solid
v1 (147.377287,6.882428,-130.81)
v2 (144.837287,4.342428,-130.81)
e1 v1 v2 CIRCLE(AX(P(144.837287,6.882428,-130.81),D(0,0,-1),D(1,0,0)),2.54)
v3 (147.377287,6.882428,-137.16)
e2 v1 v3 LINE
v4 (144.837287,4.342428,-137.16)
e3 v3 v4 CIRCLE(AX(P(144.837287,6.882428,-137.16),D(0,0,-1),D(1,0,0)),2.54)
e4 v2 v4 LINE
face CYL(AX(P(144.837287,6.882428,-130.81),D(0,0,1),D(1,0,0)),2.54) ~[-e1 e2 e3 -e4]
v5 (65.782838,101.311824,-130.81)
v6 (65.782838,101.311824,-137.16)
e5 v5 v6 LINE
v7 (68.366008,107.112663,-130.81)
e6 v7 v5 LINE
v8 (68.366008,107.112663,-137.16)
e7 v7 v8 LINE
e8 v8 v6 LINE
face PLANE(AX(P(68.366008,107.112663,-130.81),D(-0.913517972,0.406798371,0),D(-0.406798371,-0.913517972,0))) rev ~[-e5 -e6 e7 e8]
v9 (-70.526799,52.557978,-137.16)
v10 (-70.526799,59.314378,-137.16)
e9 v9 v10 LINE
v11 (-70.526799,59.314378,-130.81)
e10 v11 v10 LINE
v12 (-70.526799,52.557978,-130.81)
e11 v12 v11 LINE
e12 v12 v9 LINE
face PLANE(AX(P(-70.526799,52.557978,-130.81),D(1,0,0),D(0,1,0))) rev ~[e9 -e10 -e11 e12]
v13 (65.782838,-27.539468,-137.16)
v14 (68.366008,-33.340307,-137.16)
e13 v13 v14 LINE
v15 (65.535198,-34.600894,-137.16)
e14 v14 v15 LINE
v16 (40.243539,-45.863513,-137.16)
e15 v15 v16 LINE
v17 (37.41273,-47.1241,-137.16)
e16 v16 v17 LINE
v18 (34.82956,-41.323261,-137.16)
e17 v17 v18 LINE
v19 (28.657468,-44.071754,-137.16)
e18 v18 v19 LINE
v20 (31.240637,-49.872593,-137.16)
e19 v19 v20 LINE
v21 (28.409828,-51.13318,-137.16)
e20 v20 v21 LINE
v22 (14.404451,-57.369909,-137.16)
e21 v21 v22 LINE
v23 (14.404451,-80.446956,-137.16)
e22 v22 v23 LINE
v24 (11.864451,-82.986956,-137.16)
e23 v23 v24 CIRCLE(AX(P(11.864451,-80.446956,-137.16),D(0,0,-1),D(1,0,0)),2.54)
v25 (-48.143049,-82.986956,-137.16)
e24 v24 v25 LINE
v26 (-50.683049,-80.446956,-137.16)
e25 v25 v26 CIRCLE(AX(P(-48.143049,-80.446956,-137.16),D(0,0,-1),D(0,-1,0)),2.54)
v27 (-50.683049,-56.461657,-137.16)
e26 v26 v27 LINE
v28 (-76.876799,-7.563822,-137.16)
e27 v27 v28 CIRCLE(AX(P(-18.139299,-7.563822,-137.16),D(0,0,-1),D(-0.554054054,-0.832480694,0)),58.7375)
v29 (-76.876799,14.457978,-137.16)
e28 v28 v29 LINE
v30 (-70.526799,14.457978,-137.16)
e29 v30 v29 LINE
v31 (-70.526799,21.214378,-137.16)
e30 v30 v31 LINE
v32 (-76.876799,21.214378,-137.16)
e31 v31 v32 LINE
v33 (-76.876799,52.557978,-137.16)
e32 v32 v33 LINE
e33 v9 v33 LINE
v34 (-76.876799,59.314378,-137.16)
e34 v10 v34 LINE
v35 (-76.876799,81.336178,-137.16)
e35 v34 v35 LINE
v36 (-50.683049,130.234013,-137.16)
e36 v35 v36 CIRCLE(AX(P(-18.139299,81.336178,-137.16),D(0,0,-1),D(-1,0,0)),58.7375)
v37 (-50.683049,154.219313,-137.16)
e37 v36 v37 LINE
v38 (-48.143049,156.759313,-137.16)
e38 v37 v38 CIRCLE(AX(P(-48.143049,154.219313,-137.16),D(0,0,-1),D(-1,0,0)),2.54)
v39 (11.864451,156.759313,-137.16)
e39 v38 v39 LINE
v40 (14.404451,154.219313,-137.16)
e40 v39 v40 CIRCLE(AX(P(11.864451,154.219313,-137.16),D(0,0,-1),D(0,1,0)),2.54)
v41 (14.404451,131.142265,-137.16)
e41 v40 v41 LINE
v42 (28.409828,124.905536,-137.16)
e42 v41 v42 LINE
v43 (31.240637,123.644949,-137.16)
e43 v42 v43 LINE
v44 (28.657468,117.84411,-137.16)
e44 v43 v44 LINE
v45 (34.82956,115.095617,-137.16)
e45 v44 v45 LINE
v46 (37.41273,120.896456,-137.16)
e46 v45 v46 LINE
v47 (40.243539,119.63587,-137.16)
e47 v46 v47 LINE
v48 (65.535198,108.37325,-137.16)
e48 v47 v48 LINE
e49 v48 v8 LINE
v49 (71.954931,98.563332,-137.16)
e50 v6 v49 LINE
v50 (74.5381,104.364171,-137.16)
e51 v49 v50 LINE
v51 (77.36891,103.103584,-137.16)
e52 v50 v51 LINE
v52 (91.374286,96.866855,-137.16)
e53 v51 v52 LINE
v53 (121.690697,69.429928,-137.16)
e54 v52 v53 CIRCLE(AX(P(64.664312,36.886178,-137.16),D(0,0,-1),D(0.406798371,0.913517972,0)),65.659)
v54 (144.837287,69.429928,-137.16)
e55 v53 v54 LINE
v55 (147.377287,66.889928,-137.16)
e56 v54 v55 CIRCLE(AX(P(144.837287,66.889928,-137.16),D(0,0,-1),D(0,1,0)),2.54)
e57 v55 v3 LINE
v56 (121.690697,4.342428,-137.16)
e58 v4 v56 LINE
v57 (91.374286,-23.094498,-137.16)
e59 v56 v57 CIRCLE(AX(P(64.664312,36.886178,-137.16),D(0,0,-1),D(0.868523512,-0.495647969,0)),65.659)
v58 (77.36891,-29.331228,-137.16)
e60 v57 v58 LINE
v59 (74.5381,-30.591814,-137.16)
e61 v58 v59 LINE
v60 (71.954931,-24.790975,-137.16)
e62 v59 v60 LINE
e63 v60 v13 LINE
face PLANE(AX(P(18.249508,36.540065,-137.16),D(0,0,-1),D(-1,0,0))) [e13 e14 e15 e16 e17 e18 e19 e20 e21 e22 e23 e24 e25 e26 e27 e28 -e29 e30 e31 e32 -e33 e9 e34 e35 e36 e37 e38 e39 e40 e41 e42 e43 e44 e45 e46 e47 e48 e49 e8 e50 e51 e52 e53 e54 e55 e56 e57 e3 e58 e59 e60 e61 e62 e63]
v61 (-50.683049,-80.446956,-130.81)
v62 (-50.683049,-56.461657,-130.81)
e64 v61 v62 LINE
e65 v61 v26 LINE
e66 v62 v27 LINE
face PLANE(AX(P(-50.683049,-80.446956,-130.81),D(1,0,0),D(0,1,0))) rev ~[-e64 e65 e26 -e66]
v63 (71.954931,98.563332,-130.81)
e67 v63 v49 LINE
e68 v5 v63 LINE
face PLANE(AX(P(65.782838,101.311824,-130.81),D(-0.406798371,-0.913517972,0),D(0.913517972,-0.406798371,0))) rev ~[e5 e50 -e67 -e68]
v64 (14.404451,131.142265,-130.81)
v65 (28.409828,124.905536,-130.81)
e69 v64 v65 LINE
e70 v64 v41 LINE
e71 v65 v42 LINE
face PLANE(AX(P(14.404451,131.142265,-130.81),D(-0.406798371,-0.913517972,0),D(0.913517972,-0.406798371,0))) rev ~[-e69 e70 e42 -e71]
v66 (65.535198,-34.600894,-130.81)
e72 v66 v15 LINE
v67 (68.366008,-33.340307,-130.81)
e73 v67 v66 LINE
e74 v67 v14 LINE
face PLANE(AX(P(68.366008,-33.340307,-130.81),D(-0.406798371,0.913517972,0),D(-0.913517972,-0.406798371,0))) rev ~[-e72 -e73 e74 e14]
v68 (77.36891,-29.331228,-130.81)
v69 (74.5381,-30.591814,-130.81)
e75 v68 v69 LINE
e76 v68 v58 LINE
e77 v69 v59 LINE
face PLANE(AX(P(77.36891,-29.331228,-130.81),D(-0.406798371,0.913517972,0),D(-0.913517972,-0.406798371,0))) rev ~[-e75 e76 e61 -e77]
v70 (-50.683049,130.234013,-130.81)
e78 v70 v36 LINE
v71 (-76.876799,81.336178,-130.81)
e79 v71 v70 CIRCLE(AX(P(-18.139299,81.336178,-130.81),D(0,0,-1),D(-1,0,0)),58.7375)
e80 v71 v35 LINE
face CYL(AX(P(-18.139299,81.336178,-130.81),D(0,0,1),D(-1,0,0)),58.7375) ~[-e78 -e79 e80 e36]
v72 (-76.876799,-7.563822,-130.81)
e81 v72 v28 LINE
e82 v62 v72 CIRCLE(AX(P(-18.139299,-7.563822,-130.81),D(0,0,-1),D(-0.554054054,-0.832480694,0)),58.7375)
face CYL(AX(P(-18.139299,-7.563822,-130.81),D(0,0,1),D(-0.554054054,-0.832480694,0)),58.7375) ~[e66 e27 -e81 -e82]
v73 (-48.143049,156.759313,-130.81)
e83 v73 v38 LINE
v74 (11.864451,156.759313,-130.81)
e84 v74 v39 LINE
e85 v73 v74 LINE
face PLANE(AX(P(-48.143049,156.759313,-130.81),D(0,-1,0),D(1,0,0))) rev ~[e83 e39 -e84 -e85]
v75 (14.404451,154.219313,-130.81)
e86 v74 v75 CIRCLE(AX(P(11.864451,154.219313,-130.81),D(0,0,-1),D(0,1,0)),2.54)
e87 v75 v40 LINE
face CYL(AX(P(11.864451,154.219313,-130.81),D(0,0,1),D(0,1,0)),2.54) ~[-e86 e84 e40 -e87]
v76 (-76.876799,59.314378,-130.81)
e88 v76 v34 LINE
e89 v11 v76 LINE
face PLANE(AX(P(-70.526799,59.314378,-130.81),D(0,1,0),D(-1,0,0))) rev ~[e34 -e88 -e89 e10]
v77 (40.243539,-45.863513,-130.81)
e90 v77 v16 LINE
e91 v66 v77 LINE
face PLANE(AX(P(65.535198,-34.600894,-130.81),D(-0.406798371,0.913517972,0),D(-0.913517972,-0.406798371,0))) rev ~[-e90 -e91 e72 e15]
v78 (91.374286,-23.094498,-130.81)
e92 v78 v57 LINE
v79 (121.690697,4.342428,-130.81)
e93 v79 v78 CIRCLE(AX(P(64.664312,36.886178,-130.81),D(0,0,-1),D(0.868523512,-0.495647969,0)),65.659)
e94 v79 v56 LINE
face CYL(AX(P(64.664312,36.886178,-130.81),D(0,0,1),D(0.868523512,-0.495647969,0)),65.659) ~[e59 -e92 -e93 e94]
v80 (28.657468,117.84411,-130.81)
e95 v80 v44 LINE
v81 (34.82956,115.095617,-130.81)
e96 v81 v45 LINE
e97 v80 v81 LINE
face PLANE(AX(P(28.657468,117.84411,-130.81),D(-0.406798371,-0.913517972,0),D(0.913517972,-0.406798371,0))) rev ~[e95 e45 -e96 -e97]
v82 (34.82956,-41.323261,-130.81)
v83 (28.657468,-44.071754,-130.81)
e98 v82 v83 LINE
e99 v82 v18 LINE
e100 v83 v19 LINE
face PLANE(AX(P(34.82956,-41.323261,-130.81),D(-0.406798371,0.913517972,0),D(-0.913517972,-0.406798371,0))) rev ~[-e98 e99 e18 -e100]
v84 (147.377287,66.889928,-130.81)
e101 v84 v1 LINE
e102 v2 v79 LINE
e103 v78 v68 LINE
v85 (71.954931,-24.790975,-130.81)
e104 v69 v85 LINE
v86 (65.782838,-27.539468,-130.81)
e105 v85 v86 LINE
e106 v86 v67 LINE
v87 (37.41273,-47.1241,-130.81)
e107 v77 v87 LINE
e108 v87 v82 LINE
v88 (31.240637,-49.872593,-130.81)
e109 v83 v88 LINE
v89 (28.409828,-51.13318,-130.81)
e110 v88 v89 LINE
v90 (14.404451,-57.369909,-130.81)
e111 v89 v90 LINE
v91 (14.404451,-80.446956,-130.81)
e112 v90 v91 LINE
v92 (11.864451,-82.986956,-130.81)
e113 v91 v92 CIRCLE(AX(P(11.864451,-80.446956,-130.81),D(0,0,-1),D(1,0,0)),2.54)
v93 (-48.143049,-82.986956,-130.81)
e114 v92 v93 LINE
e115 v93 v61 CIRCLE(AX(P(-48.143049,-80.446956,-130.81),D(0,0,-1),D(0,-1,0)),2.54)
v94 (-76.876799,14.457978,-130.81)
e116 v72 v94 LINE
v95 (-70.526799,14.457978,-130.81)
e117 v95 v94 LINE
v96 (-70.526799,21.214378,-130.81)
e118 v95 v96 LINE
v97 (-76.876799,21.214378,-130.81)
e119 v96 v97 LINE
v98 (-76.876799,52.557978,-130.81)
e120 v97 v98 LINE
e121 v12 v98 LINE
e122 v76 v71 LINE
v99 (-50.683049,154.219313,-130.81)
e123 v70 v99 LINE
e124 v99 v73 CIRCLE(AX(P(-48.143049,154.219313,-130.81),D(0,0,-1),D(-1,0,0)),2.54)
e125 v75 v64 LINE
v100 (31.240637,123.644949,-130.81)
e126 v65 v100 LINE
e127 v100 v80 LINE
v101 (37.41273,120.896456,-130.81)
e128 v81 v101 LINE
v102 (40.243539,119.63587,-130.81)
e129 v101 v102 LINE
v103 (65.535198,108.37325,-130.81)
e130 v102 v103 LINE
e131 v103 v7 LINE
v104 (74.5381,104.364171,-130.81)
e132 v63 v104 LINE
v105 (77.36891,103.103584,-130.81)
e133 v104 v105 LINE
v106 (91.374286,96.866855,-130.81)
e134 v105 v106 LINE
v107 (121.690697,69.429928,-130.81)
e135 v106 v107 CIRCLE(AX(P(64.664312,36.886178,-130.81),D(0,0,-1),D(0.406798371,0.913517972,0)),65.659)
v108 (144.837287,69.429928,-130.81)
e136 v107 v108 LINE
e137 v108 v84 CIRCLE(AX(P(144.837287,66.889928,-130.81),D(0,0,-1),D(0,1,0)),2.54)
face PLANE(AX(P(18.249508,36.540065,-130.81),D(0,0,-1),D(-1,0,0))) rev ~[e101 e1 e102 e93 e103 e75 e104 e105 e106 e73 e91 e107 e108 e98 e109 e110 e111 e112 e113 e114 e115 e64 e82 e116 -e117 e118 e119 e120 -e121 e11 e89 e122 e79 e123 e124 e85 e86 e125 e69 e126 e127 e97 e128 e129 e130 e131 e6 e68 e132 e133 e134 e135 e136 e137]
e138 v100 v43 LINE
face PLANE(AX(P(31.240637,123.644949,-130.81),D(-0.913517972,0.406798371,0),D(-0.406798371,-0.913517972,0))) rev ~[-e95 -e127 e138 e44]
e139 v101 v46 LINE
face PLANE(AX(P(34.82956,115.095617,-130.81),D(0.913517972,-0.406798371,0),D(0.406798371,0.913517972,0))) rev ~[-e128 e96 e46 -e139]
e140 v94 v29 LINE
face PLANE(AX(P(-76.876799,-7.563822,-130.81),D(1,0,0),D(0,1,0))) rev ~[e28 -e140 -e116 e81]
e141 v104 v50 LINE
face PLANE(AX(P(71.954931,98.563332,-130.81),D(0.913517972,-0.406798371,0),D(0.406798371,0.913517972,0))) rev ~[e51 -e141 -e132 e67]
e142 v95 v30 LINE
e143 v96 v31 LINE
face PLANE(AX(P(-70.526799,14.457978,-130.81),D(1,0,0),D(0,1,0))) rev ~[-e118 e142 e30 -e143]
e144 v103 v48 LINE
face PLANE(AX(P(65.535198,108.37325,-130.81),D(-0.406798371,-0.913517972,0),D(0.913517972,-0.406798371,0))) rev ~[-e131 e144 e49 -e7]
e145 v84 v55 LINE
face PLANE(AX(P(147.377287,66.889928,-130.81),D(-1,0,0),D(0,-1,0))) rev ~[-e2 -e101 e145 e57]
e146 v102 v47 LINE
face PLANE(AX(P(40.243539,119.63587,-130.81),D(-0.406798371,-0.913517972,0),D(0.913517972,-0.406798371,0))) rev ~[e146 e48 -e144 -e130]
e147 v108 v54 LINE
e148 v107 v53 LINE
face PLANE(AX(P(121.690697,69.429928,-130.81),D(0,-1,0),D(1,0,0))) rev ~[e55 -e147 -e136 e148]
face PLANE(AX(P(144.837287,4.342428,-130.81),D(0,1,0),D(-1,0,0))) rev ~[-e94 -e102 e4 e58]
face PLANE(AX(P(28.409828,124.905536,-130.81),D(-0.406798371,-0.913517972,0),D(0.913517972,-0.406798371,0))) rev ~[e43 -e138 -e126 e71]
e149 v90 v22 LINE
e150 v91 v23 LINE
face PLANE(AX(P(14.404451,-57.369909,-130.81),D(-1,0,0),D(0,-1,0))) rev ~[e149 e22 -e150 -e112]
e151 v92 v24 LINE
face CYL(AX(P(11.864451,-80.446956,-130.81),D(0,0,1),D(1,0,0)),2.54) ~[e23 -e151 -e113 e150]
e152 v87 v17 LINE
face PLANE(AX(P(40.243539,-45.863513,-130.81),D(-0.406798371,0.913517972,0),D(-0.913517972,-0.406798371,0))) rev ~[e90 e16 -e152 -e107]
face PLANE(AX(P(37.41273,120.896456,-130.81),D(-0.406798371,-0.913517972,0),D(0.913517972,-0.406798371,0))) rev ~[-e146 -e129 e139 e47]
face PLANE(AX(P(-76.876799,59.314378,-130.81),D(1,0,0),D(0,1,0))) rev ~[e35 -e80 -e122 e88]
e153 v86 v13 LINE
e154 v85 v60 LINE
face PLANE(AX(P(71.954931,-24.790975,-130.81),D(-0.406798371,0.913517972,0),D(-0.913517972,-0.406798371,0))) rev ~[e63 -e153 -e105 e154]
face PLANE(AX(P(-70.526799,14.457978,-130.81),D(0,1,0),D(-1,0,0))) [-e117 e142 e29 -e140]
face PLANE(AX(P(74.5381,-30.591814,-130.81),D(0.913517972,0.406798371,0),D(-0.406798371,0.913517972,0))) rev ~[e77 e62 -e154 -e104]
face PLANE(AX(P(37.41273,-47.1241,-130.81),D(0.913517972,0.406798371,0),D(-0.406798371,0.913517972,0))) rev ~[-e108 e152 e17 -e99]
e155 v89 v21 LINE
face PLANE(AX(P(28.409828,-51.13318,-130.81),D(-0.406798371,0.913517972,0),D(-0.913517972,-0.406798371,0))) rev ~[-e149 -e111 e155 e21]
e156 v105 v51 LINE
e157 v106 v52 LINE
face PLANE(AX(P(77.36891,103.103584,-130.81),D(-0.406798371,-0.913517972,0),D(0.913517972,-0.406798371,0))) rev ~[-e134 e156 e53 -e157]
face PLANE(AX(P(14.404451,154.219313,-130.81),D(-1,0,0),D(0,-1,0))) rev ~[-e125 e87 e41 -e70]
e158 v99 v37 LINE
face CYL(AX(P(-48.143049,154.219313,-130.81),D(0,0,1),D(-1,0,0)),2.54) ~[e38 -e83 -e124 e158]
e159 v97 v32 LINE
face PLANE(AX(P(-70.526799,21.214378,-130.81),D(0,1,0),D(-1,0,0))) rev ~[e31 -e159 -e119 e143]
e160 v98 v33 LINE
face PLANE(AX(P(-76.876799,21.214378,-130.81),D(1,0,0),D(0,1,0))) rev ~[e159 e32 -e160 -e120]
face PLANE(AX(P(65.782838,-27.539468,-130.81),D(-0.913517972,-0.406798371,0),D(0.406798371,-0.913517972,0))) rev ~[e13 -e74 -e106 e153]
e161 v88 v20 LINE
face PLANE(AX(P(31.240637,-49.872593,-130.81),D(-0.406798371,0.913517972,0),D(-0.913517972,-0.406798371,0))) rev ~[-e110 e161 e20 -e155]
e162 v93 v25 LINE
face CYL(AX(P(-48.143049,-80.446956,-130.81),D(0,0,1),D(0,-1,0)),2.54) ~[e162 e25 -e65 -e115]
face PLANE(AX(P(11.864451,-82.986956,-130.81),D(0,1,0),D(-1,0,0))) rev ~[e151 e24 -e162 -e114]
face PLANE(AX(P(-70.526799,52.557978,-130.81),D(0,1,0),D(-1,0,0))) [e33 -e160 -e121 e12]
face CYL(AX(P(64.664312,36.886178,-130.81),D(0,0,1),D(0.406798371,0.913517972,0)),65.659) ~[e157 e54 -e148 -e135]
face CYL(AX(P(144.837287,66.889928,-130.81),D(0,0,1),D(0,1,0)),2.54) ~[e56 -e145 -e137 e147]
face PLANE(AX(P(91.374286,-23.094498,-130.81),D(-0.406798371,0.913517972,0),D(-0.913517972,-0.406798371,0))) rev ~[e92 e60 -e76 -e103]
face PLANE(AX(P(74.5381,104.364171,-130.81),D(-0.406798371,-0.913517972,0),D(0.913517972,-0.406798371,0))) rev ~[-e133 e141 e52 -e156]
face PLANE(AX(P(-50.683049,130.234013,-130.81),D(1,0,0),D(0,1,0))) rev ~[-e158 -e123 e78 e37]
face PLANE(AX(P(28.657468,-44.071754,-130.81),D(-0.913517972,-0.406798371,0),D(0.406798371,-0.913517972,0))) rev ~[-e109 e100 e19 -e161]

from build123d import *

# Parameters (mm, degrees)
SKETCH1_W           = 6.35
SKETCH1_H           = 3.0988
SKETCH1_H_2         = 25.146
BOSS_EXTRUDE1_DEPTH = 6.35


with BuildPart() as part:
    # Sketch1 → Boss-Extrude1 (new body)
    with BuildSketch(Plane(origin=(0, 0, -130.81), x_dir=(-1, 0, 0), z_dir=(0, 0, -1))):
        with BuildLine():
            Line((70.526798569, 59.314378099), (70.526798569, 62.413178099))
            Line((70.526798569, 62.413178099), (70.526798569, 81.336178099))
            ThreePointArc((70.526798569, 81.336178099), (63.856531257, 106.917123969), (45.544320246, 125.983853774))
            ThreePointArc((45.544320246, 125.983853774), (44.656455469, 126.90830128), (44.333048569, 128.148589564))
            Line((44.333048569, 128.148589564), (44.333048569, 147.869312576))
            ThreePointArc((44.333048569, 147.869312576), (43.589099793, 149.6653638), (41.793048569, 150.409312576))
            Line((41.793048569, 150.409312576), (-5.514451431, 150.409312576))
            ThreePointArc((-5.514451431, 150.409312576), (-7.310502655, 149.6653638), (-8.054451431, 147.869312576))
            Line((-8.054451431, 147.869312576), (-8.054451431, 128.668205083))
            ThreePointArc((-8.054451431, 128.668205083), (-8.464181451, 127.284893905), (-9.561183568, 126.347869434))
            Line((-9.561183568, 126.347869434), (-25.826658021, 119.104696647))
            Line((-25.826658021, 119.104696647), (-28.657467512, 117.844109854))
            Line((-28.657467512, 117.844109854), (-34.829560338, 115.095617339))
            Line((-34.829560338, 115.095617339), (-37.66036983, 113.835030546))
            Line((-37.66036983, 113.835030546), (-62.952028403, 102.57241084))
            Line((-62.952028403, 102.57241084), (-65.782837894, 101.311824047))
            Line((-65.782837894, 101.311824047), (-71.95493072, 98.563331532))
            Line((-71.95493072, 98.563331532), (-74.785740212, 97.302744739))
            Line((-74.785740212, 97.302744739), (-88.791116459, 91.0660155))
            ThreePointArc((-88.791116459, 91.0660155), (-105.234258555, 80.148597196), (-117.184308425, 64.439897298))
            ThreePointArc((-117.184308425, 64.439897298), (-118.119343883, 63.446350606), (-119.433558814, 63.079928099))
            Line((-119.433558814, 63.079928099), (-138.48728746, 63.079928099))
            ThreePointArc((-138.48728746, 63.079928099), (-140.283338684, 62.335979323), (-141.02728746, 60.539928099))
            Line((-141.02728746, 60.539928099), (-141.02728746, 13.232428099))
            ThreePointArc((-141.02728746, 13.232428099), (-140.283338684, 11.436376875), (-138.48728746, 10.692428099))
            Line((-138.48728746, 10.692428099), (-119.433558814, 10.692428099))
            ThreePointArc((-119.433558814, 10.692428099), (-118.119343883, 10.326005592), (-117.184308425, 9.3324589))
            ThreePointArc((-117.184308425, 9.3324589), (-105.234258555, -6.376240998), (-88.791116459, -17.293659302))
            Line((-88.791116459, -17.293659302), (-74.785740212, -23.530388541))
            Line((-74.785740212, -23.530388541), (-71.95493072, -24.790975333))
            Line((-71.95493072, -24.790975333), (-65.782837894, -27.539467849))
            Line((-65.782837894, -27.539467849), (-62.952028403, -28.800054642))
            Line((-62.952028403, -28.800054642), (-37.66036983, -40.062674348))
            Line((-37.66036983, -40.062674348), (-34.829560338, -41.323261141))
            Line((-34.829560338, -41.323261141), (-28.657467512, -44.071753656))
            Line((-28.657467512, -44.071753656), (-25.826658021, -45.332340449))
            Line((-25.826658021, -45.332340449), (-9.561183568, -52.575513236))
            ThreePointArc((-9.561183568, -52.575513236), (-8.464181451, -53.512537707), (-8.054451431, -54.895848885))
            Line((-8.054451431, -54.895848885), (-8.054451431, -76.636956378))
            Line((-8.054451431, -76.636956378), (44.333048569, -76.636956378))
            Line((44.333048569, -76.636956378), (44.333048569, -54.376233366))
            ThreePointArc((44.333048569, -54.376233366), (44.656455469, -53.135945082), (45.544320246, -52.211497576))
            ThreePointArc((45.544320246, -52.211497576), (63.856531257, -33.144767771), (70.526798569, -7.563821901))
            Line((70.526798569, -7.563821901), (70.526798569, 11.359178099))
            Line((70.526798569, 11.359178099), (70.526798569, 14.457978099))
            Line((70.526798569, 14.457978099), (70.526798569, 21.214378099))
            Line((70.526798569, 21.214378099), (70.526798569, 24.313178099))
            Line((70.526798569, 24.313178099), (70.526798569, 49.459178099))
            Line((70.526798569, 49.459178099), (70.526798569, 52.557978099))
            Line((70.526798569, 52.557978099), (70.526798569, 59.314378099))
        make_face()
        with Locations((73.701798569, 60.863778099)):
            Rectangle(SKETCH1_W, SKETCH1_H)
        with BuildLine():
            Line((70.526798569, 81.336178099), (70.526798569, 62.413178099))
            Line((70.526798569, 62.413178099), (76.876798569, 62.413178099))
            Line((76.876798569, 62.413178099), (76.876798569, 81.336178099))
            ThreePointArc((76.876798569, 81.336178099), (69.915897636, 109.072033869), (50.683048569, 130.234012838))
            Line((50.683048569, 130.234012838), (50.683048569, 154.219312576))
            ThreePointArc((50.683048569, 154.219312576), (49.939099793, 156.0153638), (48.143048569, 156.759312576))
            Line((48.143048569, 156.759312576), (-11.864451431, 156.759312576))
            ThreePointArc((-11.864451431, 156.759312576), (-13.660502655, 156.0153638), (-14.404451431, 154.219312576))
            Line((-14.404451431, 154.219312576), (-14.404451431, 131.142265008))
            Line((-14.404451431, 131.142265008), (-28.409827678, 124.905535769))
            Line((-28.409827678, 124.905535769), (-25.826658021, 119.104696647))
            Line((-25.826658021, 119.104696647), (-9.561183568, 126.347869434))
            ThreePointArc((-9.561183568, 126.347869434), (-8.464181451, 127.284893905), (-8.054451431, 128.668205083))
            Line((-8.054451431, 128.668205083), (-8.054451431, 147.869312576))
            ThreePointArc((-8.054451431, 147.869312576), (-7.310502655, 149.6653638), (-5.514451431, 150.409312576))
            Line((-5.514451431, 150.409312576), (41.793048569, 150.409312576))
            ThreePointArc((41.793048569, 150.409312576), (43.589099793, 149.6653638), (44.333048569, 147.869312576))
            Line((44.333048569, 147.869312576), (44.333048569, 128.148589564))
            ThreePointArc((44.333048569, 128.148589564), (44.656455469, 126.90830128), (45.544320246, 125.983853774))
            ThreePointArc((45.544320246, 125.983853774), (63.856531257, 106.917123969), (70.526798569, 81.336178099))
        make_face()
        with Locations((73.701798569, 51.008578099)):
            Rectangle(SKETCH1_W, SKETCH1_H)
        with Locations((73.701798569, 36.886178099)):
            Rectangle(SKETCH1_W, SKETCH1_H_2)
        with Locations((73.701798569, 22.763778099)):
            Rectangle(SKETCH1_W, SKETCH1_H)
        with Locations((73.701798569, 12.908578099)):
            Rectangle(SKETCH1_W, SKETCH1_H)
        with BuildLine():
            Line((76.876798569, 11.359178099), (70.526798569, 11.359178099))
            Line((70.526798569, 11.359178099), (70.526798569, -7.563821901))
            ThreePointArc((70.526798569, -7.563821901), (63.856531257, -33.144767771), (45.544320246, -52.211497576))
            ThreePointArc((45.544320246, -52.211497576), (44.656455469, -53.135945082), (44.333048569, -54.376233366))
            Line((44.333048569, -54.376233366), (44.333048569, -76.636956378))
            Line((44.333048569, -76.636956378), (-8.054451431, -76.636956378))
            Line((-8.054451431, -76.636956378), (-8.054451431, -54.895848885))
            ThreePointArc((-8.054451431, -54.895848885), (-8.464181451, -53.512537707), (-9.561183568, -52.575513236))
            Line((-9.561183568, -52.575513236), (-25.826658021, -45.332340449))
            Line((-25.826658021, -45.332340449), (-28.409827678, -51.133179571))
            Line((-28.409827678, -51.133179571), (-14.404451431, -57.36990881))
            Line((-14.404451431, -57.36990881), (-14.404451431, -80.446956378))
            ThreePointArc((-14.404451431, -80.446956378), (-13.660502655, -82.243007602), (-11.864451431, -82.986956378))
            Line((-11.864451431, -82.986956378), (48.143048569, -82.986956378))
            ThreePointArc((48.143048569, -82.986956378), (49.939099793, -82.243007602), (50.683048569, -80.446956378))
            Line((50.683048569, -80.446956378), (50.683048569, -56.46165664))
            ThreePointArc((50.683048569, -56.46165664), (69.915897636, -35.299677671), (76.876798569, -7.563821901))
            Line((76.876798569, -7.563821901), (76.876798569, 11.359178099))
        make_face()
        Polygon((-28.409827678, -51.133179571), (-25.826658021, -45.332340449), (-28.657467512, -44.071753656), (-31.24063717, -49.872592778), align=None)
        Polygon((-37.412729996, -47.124100263), (-34.829560338, -41.323261141), (-37.66036983, -40.062674348), (-40.243539487, -45.86351347), align=None)
        Polygon((-40.243539487, -45.86351347), (-37.66036983, -40.062674348), (-62.952028403, -28.800054642), (-65.53519806, -34.600893764), align=None)
        Polygon((-65.53519806, -34.600893764), (-62.952028403, -28.800054642), (-65.782837894, -27.539467849), (-68.366007552, -33.340306971), align=None)
        with BuildLine():
            Line((-74.785740212, 97.302744739), (-77.368909869, 103.103583861))
            Line((-77.368909869, 103.103583861), (-91.374286117, 96.866854622))
            ThreePointArc((-91.374286117, 96.866854622), (-108.722690302, 85.568449718), (-121.690697129, 69.429928099))
            Line((-121.690697129, 69.429928099), (-144.83728746, 69.429928099))
            ThreePointArc((-144.83728746, 69.429928099), (-146.633338684, 68.685979323), (-147.37728746, 66.889928099))
            Line((-147.37728746, 66.889928099), (-147.37728746, 6.882428099))
            ThreePointArc((-147.37728746, 6.882428099), (-146.633338684, 5.086376875), (-144.83728746, 4.342428099))
            Line((-144.83728746, 4.342428099), (-121.690697129, 4.342428099))
            ThreePointArc((-121.690697129, 4.342428099), (-108.722690302, -11.79609352), (-91.374286117, -23.094498424))
            Line((-91.374286117, -23.094498424), (-77.368909869, -29.331227663))
            Line((-77.368909869, -29.331227663), (-74.785740212, -23.530388541))
            Line((-74.785740212, -23.530388541), (-88.791116459, -17.293659302))
            ThreePointArc((-88.791116459, -17.293659302), (-105.234258555, -6.376240998), (-117.184308425, 9.3324589))
            ThreePointArc((-117.184308425, 9.3324589), (-118.119343883, 10.326005592), (-119.433558814, 10.692428099))
            Line((-119.433558814, 10.692428099), (-138.48728746, 10.692428099))
            ThreePointArc((-138.48728746, 10.692428099), (-140.283338684, 11.436376875), (-141.02728746, 13.232428099))
            Line((-141.02728746, 13.232428099), (-141.02728746, 60.539928099))
            ThreePointArc((-141.02728746, 60.539928099), (-140.283338684, 62.335979323), (-138.48728746, 63.079928099))
            Line((-138.48728746, 63.079928099), (-119.433558814, 63.079928099))
            ThreePointArc((-119.433558814, 63.079928099), (-118.119343883, 63.446350606), (-117.184308425, 64.439897298))
            ThreePointArc((-117.184308425, 64.439897298), (-105.234258555, 80.148597196), (-88.791116459, 91.0660155))
            Line((-88.791116459, 91.0660155), (-74.785740212, 97.302744739))
        make_face()
        Polygon((-74.538100378, -30.591814456), (-71.95493072, -24.790975333), (-74.785740212, -23.530388541), (-77.368909869, -29.331227663), align=None)
        Polygon((-37.66036983, 113.835030546), (-40.243539487, 119.635869668), (-65.53519806, 108.373249962), (-62.952028403, 102.57241084), align=None)
        Polygon((-34.829560338, 115.095617339), (-37.412729996, 120.896456461), (-40.243539487, 119.635869668), (-37.66036983, 113.835030546), align=None)
        Polygon((-25.826658021, 119.104696647), (-28.409827678, 124.905535769), (-31.24063717, 123.644948976), (-28.657467512, 117.844109854), align=None)
        Polygon((-62.952028403, 102.57241084), (-65.53519806, 108.373249962), (-68.366007552, 107.112663169), (-65.782837894, 101.311824047), align=None)
        Polygon((-71.95493072, 98.563331532), (-74.538100378, 104.364170654), (-77.368909869, 103.103583861), (-74.785740212, 97.302744739), align=None)
    extrude(amount=BOSS_EXTRUDE1_DEPTH)


solid = part.part
